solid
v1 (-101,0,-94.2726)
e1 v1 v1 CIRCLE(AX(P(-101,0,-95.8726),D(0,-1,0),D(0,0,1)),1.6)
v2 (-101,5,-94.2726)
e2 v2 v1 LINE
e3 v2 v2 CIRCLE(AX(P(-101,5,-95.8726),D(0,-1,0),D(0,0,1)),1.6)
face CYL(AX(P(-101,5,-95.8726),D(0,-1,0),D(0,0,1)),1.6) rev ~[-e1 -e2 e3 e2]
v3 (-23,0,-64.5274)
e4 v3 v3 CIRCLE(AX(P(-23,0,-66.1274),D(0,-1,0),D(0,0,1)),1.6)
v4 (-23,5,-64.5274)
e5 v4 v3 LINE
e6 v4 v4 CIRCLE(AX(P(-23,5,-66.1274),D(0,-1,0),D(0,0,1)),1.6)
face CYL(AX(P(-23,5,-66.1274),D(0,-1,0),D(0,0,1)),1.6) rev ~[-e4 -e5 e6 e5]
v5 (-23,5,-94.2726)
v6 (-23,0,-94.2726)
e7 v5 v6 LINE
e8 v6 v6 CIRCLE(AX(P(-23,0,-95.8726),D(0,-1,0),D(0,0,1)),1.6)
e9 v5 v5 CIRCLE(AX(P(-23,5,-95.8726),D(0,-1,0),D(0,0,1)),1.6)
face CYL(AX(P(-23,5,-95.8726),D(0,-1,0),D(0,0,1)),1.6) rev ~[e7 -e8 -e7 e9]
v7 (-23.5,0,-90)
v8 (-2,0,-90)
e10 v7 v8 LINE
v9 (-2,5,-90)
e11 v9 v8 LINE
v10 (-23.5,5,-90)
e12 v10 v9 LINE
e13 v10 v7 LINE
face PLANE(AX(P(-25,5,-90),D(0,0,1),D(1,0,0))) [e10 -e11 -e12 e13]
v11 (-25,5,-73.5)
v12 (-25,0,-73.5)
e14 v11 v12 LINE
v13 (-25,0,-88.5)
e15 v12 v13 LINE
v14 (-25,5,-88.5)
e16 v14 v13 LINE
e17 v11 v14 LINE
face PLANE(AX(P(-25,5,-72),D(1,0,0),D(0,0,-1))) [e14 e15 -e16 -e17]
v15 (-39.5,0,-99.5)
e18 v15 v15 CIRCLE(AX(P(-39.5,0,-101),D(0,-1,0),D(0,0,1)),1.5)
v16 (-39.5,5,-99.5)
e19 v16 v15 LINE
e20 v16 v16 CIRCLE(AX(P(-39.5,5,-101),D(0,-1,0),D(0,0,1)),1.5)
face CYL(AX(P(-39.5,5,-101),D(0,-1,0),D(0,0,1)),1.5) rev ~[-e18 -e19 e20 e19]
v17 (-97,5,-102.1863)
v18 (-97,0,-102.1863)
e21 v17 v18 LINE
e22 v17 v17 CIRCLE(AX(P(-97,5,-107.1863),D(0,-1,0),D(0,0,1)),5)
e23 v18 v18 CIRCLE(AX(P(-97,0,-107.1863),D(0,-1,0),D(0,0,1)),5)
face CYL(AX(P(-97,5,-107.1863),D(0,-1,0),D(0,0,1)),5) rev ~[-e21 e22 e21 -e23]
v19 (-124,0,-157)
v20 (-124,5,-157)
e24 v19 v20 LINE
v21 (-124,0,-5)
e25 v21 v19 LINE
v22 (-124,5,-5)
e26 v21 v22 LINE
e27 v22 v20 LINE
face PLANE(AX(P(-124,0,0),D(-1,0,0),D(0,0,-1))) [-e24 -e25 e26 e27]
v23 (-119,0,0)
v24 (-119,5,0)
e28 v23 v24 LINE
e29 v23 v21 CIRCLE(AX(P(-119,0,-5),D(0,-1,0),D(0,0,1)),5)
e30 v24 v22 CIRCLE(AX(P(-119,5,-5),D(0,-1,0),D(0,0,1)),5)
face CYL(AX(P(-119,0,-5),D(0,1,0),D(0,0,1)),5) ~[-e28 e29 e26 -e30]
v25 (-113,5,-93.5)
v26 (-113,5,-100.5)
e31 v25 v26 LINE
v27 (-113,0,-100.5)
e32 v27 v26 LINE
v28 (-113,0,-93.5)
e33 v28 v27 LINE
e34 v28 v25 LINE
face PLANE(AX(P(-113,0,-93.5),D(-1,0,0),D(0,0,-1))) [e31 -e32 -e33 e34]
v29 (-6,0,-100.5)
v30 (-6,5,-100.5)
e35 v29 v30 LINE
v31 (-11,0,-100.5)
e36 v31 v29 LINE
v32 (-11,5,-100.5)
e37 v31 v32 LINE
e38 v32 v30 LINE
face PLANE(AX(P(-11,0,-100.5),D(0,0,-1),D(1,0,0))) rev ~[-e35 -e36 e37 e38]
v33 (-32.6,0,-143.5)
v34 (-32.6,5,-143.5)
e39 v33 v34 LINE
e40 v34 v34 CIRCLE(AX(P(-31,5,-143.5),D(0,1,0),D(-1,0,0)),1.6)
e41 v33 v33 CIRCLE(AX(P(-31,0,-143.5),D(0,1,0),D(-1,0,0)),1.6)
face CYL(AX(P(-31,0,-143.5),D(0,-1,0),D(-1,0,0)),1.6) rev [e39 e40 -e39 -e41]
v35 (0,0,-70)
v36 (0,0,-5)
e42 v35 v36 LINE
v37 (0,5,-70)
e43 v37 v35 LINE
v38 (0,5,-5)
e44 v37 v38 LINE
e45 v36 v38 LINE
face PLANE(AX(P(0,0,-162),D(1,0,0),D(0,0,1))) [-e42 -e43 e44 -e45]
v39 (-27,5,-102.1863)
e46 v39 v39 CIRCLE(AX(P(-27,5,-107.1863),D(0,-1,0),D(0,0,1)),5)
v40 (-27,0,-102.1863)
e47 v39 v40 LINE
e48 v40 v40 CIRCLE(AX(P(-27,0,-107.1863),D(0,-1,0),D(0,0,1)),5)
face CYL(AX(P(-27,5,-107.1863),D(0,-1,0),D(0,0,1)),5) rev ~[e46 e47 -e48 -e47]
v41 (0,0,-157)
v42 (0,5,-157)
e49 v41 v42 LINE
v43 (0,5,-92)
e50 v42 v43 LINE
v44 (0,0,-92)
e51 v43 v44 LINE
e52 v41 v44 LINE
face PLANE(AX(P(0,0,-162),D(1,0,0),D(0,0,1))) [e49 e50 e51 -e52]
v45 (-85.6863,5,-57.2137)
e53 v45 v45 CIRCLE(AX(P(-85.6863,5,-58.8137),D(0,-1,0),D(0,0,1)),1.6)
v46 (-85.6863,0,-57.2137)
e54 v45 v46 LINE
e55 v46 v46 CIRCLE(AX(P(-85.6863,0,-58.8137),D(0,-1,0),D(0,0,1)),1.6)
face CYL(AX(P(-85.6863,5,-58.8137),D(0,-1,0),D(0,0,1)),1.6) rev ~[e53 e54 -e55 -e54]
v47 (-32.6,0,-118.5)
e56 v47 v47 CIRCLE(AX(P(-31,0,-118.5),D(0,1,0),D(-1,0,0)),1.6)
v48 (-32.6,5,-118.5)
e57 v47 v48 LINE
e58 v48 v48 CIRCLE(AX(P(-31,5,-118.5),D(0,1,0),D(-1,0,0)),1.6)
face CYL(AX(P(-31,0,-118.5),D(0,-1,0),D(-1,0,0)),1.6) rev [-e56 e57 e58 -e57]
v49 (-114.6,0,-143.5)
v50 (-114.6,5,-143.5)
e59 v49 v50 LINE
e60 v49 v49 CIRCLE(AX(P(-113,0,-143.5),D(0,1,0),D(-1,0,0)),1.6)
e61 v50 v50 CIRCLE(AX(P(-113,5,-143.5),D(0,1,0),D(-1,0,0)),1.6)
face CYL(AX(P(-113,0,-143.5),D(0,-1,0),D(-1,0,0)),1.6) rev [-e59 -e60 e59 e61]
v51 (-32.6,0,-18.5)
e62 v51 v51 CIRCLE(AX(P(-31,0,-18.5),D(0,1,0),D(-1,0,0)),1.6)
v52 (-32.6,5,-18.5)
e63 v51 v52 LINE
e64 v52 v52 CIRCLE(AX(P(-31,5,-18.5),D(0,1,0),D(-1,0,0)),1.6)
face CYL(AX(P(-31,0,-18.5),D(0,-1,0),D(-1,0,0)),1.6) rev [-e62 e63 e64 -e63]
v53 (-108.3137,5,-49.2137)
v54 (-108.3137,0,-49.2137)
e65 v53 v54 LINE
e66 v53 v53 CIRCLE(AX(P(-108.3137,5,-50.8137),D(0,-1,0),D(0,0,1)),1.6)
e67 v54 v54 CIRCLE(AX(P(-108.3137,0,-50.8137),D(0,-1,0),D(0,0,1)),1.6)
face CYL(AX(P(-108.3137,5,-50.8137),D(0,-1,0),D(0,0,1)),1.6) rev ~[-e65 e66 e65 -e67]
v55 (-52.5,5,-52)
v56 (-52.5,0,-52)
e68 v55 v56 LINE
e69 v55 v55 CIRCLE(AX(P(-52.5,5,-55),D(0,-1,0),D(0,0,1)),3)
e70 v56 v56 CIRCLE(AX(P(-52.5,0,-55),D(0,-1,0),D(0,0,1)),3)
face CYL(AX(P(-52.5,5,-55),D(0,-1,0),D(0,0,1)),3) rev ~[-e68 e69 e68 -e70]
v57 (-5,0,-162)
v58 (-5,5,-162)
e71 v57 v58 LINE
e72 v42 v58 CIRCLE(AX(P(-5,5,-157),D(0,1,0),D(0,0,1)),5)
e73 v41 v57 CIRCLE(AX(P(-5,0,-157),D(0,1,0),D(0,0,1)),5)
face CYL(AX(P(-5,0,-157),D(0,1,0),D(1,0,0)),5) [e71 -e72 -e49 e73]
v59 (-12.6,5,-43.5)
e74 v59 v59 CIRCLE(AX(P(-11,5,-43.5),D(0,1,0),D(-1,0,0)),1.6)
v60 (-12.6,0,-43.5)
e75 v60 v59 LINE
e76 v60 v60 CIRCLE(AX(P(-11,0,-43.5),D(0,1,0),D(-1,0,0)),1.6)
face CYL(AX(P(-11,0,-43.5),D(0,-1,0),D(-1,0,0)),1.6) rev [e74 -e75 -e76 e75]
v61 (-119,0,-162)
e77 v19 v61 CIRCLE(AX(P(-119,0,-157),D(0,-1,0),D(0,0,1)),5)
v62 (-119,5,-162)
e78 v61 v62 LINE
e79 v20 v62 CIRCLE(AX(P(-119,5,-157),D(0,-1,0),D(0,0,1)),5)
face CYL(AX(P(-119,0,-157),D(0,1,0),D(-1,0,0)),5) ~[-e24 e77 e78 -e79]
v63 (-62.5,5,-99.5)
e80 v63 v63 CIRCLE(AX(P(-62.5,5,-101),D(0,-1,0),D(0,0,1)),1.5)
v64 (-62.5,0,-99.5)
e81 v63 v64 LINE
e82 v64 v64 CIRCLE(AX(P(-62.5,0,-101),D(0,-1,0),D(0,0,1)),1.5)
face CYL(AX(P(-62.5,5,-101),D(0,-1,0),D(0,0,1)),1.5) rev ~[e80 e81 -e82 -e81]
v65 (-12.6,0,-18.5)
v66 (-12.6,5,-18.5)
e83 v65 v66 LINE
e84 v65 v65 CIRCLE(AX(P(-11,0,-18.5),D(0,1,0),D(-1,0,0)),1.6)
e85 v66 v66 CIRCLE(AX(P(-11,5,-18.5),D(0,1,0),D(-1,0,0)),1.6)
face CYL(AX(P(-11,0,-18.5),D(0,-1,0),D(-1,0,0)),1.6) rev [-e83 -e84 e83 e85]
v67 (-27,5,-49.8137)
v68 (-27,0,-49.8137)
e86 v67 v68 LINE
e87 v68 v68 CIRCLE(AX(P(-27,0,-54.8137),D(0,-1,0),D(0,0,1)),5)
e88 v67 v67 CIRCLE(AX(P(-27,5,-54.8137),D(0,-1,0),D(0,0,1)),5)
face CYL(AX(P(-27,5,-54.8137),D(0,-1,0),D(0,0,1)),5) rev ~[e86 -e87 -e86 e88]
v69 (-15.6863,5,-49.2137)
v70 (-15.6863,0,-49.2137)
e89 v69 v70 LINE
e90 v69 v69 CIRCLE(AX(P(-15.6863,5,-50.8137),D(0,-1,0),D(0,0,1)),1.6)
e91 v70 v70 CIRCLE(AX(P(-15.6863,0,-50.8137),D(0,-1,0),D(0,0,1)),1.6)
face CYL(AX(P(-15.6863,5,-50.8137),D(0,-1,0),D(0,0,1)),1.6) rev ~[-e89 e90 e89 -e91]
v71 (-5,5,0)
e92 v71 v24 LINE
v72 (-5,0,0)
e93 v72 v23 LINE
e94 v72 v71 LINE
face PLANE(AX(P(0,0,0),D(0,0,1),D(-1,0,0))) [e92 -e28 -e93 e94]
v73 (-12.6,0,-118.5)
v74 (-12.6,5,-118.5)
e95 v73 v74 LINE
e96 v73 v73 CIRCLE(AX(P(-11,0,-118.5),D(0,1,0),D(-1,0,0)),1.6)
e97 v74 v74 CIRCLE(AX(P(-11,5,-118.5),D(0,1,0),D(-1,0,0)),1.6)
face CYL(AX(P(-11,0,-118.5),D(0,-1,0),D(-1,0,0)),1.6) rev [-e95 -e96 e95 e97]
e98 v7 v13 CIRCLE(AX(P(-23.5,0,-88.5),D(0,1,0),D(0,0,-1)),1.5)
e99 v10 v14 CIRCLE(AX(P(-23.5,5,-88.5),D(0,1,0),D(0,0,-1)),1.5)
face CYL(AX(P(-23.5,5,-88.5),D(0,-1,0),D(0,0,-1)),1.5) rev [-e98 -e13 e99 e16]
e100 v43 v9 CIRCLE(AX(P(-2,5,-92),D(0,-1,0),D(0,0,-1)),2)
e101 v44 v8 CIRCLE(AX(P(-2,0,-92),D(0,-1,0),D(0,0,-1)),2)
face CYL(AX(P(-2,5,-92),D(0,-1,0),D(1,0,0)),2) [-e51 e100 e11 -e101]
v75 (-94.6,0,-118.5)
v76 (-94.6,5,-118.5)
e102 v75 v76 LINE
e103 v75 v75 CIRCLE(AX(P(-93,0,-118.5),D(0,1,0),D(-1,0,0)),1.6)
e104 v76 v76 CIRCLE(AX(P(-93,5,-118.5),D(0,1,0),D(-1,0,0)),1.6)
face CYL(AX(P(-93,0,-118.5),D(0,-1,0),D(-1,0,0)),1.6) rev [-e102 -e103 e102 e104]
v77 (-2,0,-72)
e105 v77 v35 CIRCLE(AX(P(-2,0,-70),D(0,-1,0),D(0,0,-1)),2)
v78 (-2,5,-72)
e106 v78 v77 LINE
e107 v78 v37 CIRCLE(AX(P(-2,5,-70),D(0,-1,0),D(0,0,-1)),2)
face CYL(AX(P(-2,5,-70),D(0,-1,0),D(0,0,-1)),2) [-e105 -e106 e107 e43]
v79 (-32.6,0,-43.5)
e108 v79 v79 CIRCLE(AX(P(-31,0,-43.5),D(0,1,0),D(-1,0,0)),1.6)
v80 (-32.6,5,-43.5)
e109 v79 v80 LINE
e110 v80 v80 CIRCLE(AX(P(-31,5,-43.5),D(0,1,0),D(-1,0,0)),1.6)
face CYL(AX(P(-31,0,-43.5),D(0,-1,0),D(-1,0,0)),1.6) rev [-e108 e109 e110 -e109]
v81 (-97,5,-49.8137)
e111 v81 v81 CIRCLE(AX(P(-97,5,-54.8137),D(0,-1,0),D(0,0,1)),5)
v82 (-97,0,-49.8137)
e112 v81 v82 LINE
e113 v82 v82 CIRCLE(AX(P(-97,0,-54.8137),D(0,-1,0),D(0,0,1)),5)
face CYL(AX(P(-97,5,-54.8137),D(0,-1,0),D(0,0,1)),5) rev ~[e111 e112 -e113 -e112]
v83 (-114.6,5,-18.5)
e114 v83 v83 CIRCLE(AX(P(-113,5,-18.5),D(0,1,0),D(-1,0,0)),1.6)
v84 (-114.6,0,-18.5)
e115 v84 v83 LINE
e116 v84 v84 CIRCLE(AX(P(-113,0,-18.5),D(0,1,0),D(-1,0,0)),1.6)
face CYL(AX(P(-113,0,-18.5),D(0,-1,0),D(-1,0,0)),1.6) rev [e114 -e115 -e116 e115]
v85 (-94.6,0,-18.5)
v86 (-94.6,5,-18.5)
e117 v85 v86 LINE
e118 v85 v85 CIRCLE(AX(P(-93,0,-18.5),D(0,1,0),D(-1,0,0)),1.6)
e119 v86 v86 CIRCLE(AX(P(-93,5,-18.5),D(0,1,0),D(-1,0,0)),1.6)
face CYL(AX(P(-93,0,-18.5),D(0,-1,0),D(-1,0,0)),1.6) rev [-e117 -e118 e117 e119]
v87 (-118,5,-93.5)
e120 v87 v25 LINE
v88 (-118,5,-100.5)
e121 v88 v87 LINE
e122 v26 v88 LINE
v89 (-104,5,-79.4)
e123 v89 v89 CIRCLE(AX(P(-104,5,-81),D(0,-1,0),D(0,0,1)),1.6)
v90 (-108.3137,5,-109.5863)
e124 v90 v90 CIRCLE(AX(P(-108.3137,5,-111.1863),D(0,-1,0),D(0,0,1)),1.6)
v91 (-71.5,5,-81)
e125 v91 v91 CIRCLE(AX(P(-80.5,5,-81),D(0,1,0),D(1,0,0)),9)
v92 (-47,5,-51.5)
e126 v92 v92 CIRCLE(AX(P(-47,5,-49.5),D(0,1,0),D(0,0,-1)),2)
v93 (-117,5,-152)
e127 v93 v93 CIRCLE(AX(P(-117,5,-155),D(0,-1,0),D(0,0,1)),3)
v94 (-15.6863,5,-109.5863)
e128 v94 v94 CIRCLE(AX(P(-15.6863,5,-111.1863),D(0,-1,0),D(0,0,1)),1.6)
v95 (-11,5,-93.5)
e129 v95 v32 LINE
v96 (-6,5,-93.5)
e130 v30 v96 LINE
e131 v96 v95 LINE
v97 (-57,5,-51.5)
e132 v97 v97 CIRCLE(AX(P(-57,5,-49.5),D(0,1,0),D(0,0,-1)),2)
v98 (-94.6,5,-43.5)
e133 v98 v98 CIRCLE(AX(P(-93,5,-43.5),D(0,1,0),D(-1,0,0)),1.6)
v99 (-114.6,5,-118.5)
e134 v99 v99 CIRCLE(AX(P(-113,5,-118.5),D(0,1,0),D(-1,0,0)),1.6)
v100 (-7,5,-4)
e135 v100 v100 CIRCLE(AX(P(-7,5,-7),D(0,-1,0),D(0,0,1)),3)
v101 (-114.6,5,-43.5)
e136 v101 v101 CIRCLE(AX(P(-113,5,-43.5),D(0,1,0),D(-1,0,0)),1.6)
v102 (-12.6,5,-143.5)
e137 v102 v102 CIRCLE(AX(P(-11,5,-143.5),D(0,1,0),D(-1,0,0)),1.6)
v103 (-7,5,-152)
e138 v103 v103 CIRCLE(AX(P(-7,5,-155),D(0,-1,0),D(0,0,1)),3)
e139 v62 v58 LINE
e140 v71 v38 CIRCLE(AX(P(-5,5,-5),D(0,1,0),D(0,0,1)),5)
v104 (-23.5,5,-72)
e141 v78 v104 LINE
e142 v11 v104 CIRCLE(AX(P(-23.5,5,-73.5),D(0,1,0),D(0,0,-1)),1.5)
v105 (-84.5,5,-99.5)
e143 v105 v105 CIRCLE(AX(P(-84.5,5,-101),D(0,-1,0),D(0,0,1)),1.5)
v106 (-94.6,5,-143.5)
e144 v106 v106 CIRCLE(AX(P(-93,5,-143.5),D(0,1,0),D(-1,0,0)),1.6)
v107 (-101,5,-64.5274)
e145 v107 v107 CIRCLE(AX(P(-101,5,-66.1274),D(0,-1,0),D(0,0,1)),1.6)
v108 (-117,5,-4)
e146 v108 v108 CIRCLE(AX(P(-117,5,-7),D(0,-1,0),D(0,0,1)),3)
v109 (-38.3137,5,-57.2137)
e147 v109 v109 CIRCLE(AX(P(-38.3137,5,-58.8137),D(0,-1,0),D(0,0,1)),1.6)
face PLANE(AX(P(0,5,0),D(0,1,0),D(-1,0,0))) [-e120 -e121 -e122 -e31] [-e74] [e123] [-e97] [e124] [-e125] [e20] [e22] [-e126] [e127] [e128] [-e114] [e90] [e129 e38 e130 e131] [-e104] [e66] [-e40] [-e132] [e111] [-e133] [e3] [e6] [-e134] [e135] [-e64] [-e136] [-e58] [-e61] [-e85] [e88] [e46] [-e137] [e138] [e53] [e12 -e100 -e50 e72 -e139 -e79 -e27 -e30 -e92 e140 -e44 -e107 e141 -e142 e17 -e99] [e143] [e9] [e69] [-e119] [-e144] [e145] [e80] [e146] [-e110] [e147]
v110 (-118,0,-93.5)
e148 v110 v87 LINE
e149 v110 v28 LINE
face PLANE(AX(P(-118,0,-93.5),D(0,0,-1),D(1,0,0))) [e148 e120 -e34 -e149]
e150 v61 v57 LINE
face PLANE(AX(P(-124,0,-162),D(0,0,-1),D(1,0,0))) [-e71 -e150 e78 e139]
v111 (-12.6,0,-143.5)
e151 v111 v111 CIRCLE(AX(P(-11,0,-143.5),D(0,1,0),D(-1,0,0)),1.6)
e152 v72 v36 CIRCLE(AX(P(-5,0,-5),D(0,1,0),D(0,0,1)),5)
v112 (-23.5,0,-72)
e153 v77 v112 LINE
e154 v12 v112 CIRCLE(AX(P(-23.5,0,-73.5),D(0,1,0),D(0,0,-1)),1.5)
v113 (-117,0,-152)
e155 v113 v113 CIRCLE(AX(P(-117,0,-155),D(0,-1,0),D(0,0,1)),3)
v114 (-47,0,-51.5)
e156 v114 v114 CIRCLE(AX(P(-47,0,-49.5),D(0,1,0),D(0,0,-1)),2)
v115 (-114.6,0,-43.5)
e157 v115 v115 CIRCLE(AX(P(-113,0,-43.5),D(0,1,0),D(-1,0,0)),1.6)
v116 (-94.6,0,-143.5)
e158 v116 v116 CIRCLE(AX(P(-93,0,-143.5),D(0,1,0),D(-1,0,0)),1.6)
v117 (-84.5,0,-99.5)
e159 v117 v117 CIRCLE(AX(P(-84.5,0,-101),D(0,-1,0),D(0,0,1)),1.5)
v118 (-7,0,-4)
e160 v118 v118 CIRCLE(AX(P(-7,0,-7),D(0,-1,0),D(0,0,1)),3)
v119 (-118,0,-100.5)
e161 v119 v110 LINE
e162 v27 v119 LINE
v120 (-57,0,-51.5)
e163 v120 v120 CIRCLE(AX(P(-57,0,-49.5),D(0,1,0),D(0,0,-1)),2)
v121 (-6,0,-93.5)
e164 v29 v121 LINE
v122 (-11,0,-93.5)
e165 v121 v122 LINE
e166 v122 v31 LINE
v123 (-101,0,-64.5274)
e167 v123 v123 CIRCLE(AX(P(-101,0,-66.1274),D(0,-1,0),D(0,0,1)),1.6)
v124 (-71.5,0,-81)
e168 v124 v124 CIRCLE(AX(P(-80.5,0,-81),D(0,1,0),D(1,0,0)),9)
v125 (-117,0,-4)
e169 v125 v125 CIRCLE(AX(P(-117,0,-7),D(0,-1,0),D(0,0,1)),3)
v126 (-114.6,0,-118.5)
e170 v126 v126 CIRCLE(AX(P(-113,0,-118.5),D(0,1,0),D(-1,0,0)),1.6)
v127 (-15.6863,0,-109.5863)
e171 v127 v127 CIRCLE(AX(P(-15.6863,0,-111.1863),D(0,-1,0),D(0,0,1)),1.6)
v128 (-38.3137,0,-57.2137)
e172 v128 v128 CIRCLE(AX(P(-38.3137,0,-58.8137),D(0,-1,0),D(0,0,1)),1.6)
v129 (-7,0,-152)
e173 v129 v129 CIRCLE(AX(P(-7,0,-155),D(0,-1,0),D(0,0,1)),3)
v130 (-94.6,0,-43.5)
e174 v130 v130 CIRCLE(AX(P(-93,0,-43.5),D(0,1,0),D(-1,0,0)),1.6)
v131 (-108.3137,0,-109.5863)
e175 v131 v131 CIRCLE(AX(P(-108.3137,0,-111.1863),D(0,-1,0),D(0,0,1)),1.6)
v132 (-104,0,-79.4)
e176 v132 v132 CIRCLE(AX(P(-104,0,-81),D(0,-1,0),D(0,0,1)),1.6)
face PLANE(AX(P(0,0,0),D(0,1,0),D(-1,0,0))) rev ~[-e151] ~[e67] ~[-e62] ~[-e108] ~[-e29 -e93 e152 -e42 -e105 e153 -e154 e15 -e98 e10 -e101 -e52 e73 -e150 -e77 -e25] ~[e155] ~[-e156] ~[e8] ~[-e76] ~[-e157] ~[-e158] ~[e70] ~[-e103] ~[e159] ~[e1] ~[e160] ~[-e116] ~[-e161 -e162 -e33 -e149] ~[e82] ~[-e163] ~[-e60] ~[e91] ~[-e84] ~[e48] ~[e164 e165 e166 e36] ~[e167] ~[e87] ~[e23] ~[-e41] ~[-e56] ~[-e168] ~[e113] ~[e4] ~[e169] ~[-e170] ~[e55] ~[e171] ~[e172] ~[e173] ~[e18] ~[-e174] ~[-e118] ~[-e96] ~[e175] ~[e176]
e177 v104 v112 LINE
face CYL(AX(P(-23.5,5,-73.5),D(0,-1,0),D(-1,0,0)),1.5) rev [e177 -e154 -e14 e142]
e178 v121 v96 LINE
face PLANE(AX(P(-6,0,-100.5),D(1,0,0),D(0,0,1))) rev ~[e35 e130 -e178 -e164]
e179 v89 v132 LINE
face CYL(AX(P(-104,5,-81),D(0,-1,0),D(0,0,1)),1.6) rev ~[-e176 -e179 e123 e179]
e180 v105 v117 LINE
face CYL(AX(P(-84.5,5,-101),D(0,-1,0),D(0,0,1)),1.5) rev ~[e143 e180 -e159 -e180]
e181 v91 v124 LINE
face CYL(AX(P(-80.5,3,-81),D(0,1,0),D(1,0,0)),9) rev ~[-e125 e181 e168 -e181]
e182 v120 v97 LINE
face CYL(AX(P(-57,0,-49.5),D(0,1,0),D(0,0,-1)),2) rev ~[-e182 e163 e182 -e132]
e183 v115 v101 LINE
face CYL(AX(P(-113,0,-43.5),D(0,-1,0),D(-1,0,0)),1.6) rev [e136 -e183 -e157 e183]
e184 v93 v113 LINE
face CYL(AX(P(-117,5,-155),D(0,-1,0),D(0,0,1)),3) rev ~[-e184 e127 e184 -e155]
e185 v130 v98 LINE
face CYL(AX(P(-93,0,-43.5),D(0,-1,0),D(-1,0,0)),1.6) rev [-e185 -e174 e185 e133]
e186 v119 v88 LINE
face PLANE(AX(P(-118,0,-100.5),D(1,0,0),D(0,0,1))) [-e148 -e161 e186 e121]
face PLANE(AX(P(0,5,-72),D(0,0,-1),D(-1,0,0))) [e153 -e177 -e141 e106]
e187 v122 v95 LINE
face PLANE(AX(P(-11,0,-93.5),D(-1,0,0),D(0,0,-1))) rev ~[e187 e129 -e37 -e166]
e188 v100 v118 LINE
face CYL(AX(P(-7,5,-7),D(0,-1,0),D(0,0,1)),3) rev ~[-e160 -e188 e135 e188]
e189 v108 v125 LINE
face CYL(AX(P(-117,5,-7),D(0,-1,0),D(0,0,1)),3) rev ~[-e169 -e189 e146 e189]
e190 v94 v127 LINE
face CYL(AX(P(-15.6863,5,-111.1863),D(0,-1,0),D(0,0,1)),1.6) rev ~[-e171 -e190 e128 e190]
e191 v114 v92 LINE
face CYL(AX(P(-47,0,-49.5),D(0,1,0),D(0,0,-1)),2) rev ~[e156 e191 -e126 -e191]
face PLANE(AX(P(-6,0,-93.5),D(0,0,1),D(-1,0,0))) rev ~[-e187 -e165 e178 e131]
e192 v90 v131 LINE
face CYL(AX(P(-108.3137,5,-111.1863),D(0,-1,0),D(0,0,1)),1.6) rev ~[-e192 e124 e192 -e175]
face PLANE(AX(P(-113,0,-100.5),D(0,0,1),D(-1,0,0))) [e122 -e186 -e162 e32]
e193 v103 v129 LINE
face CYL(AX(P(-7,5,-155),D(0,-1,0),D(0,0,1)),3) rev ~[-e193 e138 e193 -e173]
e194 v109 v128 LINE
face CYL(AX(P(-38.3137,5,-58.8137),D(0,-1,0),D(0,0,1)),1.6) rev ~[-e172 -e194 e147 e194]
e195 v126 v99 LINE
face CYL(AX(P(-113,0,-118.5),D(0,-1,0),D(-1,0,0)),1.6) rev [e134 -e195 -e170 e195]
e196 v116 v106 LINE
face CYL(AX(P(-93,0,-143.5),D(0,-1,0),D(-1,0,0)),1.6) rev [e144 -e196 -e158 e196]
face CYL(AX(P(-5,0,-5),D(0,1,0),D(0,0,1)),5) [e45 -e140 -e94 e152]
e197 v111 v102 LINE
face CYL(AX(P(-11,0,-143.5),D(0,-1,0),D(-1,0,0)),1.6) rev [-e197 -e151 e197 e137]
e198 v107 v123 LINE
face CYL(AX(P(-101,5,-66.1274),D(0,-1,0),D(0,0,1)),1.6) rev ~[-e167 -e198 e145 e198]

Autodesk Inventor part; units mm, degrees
ref_plane "YZ Plane" through (0, 0, 0) normal (1, 0, 0) x (0, 1, 0)
ref_plane "XZ Plane" through (0, 0, 0) normal (0, 1, 0) x (-1, 0, 0)
ref_plane "XY Plane" through (0, 0, 0) normal (0, 0, 1) x (1, 0, 0)
sketch "Sketch1" plane through (0, 0, 0) normal (0, 1, 0) x (-1, 0, 0)
  line L0 (0, 0) -> (124, 0)
  line L1 (124, 0) -> (124, -162)
  line L2 (124, -162) -> (0, -162)
  line L3 (0, -162) -> (0, 0)
  line L4 (117.9854, -81) -> (-11.1436, -81) construction
  line L5 (62, -11.2083) -> (62, -206.7638) construction
  circle A0 centre (113, -18.5) radius 1.6
  circle A1 centre (113, -43.5) radius 1.6
  circle A2 centre (93, -18.5) radius 1.6
  circle A3 centre (93, -43.5) radius 1.6
  circle A4 centre (113, -143.5) radius 1.6
  circle A5 centre (113, -118.5) radius 1.6
  circle A6 centre (93, -143.5) radius 1.6
  circle A7 centre (93, -118.5) radius 1.6
  circle A8 centre (11, -18.5) radius 1.6
  circle A9 centre (11, -43.5) radius 1.6
  circle A10 centre (31, -18.5) radius 1.6
  circle A11 centre (31, -43.5) radius 1.6
  circle A12 centre (11, -118.5) radius 1.6
  circle A13 centre (31, -143.5) radius 1.6
  circle A14 centre (11, -143.5) radius 1.6
  circle A15 centre (31, -118.5) radius 1.6
  line L6 (118, -93.5) -> (113, -93.5)
  line L7 (113, -93.5) -> (113, -100.5)
  line L8 (113, -100.5) -> (118, -100.5)
  line L9 (118, -100.5) -> (118, -93.5)
  line L10 (6, -93.5) -> (11, -93.5)
  line L11 (11, -93.5) -> (11, -100.5)
  line L12 (11, -100.5) -> (6, -100.5)
  line L13 (6, -100.5) -> (6, -93.5)
  circle A16 centre (7.5, -7.5) radius 2.8374
  circle A17 centre (37.5, -7.5) radius 2.5792
  circle A18 centre (7.5, -107.5) radius 2.9237
  circle A19 centre (37.5, -107.5) radius 2.6656
  dimension "d0" = 162
  dimension "d1" = 124
  dimension "d2" = 81
  dimension "d3" = 62
  dimension "d4" = 3.2
  dimension "d8" = 25
  dimension "d9" = 25
  dimension "d10" = 18.5
  dimension "d11" = 18.5
  dimension "d12" = 20
  dimension "d13" = 20
  dimension "d14" = 11
  dimension "d15" = 11
  dimension "d21" = 61.5
  dimension "d22" = 7
  dimension "d23" = 5
  dimension "d24" = 6
  dimension "d26" = 7.5
  dimension "d27" = 7.5
  dimension "d28" = 37.5
  dimension "d29" = 7.5
  dimension "d30" = 37.5
  dimension "d31" = 7.5
  dimension "d32" = 107.5
  dimension "d33" = 107.5
extrude "Extrusion1" add sketch "Sketch1" along normal blind 5 contours L0 L1 L2 L3 | A16 | A17 | A18 | A19
fillet "Fillet2" radius 5 4 edges at (0, 2.5, 0) (0, 2.5, -162) (-124, 2.5, -162) (-124, 2.5, 0)
sketch "Sketch3" plane through (0, 5, 0) normal (0, 1, 0) x (1, 0, 0)
  circle A0 centre (-93, 43.5) radius 3.1
  circle A1 centre (-93, 43.5) radius 1.8241
  line L0 (0, 5) -> (0, 157) projected
  circle A2 centre (-97, 54.8137) radius 4.621
  circle A3 centre (-97, 54.8137) radius 16
  line L1 (-112.1751, 81) -> (15.1489, 81) construction
  line L2 (-119, 0) -> (-5, 0) projected
  circle A4 centre (-93, 118.5) radius 3.1
  circle A5 centre (-93, 118.5) radius 1.8241
  circle A6 centre (-97, 107.1863) radius 4.621
  circle A7 centre (-97, 107.1863) radius 16
  circle A8 centre (-85.6863, 58.8137) radius 1.8241
  circle A9 centre (-101, 66.1274) radius 1.8241
  circle A10 centre (-108.3137, 50.8137) radius 1.8241
  circle A11 centre (-97, 54.8137) radius 4.621
  circle A12 centre (-101, 95.8726) radius 1.8241
  circle A13 centre (-108.3137, 111.1863) radius 1.8241
  line L3 (-124, 157) -> (-124, 5) projected
  line L4 (-62, -8.3299) -> (-62, 205.5694) construction
  circle A14 centre (-31, 43.5) radius 3.1
  circle A15 centre (-31, 43.5) radius 1.8241
  circle A16 centre (-27, 54.8137) radius 4.621
  circle A17 centre (-27, 54.8137) radius 16
  circle A18 centre (-31, 118.5) radius 3.1
  circle A19 centre (-31, 118.5) radius 1.8241
  circle A20 centre (-27, 107.1863) radius 4.621
  circle A21 centre (-27, 107.1863) radius 16
  circle A22 centre (-38.3137, 58.8137) radius 1.8241
  circle A23 centre (-23, 66.1274) radius 1.8241
  circle A24 centre (-15.6863, 50.8137) radius 1.8241
  circle A25 centre (-27, 54.8137) radius 4.621
  circle A26 centre (-15.6863, 111.1863) radius 1.8241
  circle A27 centre (-23, 95.8726) radius 1.8241
  circle A28 centre (-93, 43.5) radius 1.6 projected
  point P0 (0, 0)
  dimension "d57" = 12
  dimension "d59" = 32
  dimension "d60" = 81
  dimension "d63" = 360
  dimension "d66" = 62
  dimension "d89" = 124
  dimension "d193" = 0
  dimension "d194" = 0
  dimension "d195" = 70
hole "Hole1" at (-108.3137, 5, -50.8137) at (-101, 5, -66.1274) at (-85.6863, 5, -58.8137) at (-108.3137, 5, -111.1863) at (-101, 5, -95.8726) at (-23, 5, -95.8726) at (-15.6863, 5, -111.1863) at (-38.3137, 5, -58.8137) at (-23, 5, -66.1274) at (-15.6863, 5, -50.8137) direction (0, -1, 0) diameter 3.2 end through all
sketch "Sketch4" plane through (0, 5, 0) normal (0, 1, 0) x (1, 0, 0)
  circle A0 centre (-97, 54.8137) radius 4
  circle A1 centre (-97, 107.1863) radius 4
  circle A2 centre (-27, 107.1863) radius 4 projected
  circle A3 centre (-27, 54.8137) radius 4 projected
  point P0 (0, 0)
  dimension "d196" = 70
hole "Hole2" at (-97, 5, -54.8137) at (-97, 5, -107.1863) at (-27, 5, -107.1863) at (-27, 5, -54.8137) direction (0, -1, 0) diameter 10 end through all
sketch "Sketch5" plane through (0, 5, 0) normal (0, 1, 0) x (1, 0, 0)
  circle A0 centre (-80.5, 81) radius 9
  line L0 (0, 5) -> (0, 157) projected
  line L1 (-119, 0) -> (-5, 0) projected
  circle A1 centre (-80.5, 81) radius 9 construction
  point P0 (0, 0)
  dimension "d81" = 18
  dimension "d82" = 80.5
  dimension "d83" = 81
  dimension "d90" = 18
extrude "Extrusion3" cut sketch "Sketch5" against normal blind 2
sketch "Sketch6" plane through (-80.5, 3, -81) normal (0, 1, 0) x (1, 0, 0)
  circle A0 centre (0, 0) radius 9
  point P0 (80.5, -81)
  dimension "d86" = 18
extrude "Extrusion4" cut sketch "Sketch6" against normal blind 3
sketch "Sketch7" plane through (0, 5, 0) normal (0, 1, 0) x (1, 0, 0)
  line L0 (-5, 162) -> (-119, 162) projected
  circle A0 centre (-84.5, 101) radius 1.5
  line L1 (-124, 157) -> (-124, 5) projected
  circle A1 centre (-62.5, 101) radius 1.5
  circle A2 centre (-39.5, 101) radius 1.5
  point P0 (0, 0)
  point P1 (-92.5, 103)
  point P2 (-47.5, 103)
  point P3 (-70.5, 103)
  dimension "d185" = 3
  dimension "d186" = 61
  dimension "d187" = 39.5
  dimension "d188" = 3
  dimension "d189" = 3
  dimension "d190" = 61.5
  dimension "d191" = 84.5
hole "Hole3" at (-84.5, 5, -101) at (-62.5, 5, -101) at (-39.5, 5, -101) direction (0, -1, 0) diameter 3 end through all
sketch "Sketch8" plane through (0, 5, 0) normal (0, 1, 0) x (1, 0, 0)
  line L0 (-147.8175, 81) -> (38.0677, 81) construction
  line L1 (-62, -18.8902) -> (-62, 202.7642) construction
  line L2 (-5, 162) -> (-119, 162) projected
  line L3 (-119, 0) -> (-5, 0) projected
  line L4 (0, 5) -> (0, 157) projected
  line L5 (-124, 157) -> (-124, 5) projected
  circle A0 centre (-7, 7) radius 3
  circle A1 centre (-7, 155) radius 3
  circle A2 centre (-117, 7) radius 3
  circle A3 centre (-117, 155) radius 3
  point P0 (0, 0)
  dimension "d104" = 162
  dimension "d105" = 124
  dimension "d106" = 62
  dimension "d107" = 81
  dimension "d108" = 6
  dimension "d109" = 7
  dimension "d110" = 7
hole "Hole4" at (-7, 5, -7) at (-117, 5, -7) at (-117, 5, -155) at (-7, 5, -155) direction (0, -1, 0) diameter 6 end through all
sketch "Sketch10" plane through (0, 5, 0) normal (0, 1, 0) x (1, 0, 0)
  line L0 (0, 5) -> (0, 157) projected
  line L1 (0, 72) -> (-25, 72)
  line L2 (-25, 72) -> (-25, 90)
  line L3 (-25, 90) -> (0, 90)
  line L4 (0, 90) -> (0, 72)
  line L5 (-119, 0) -> (-5, 0) projected
  point P0 (0, 0)
  point P1 (0, 90)
  dimension "d128" = 18
  dimension "d129" = 72
  dimension "d130" = 25
extrude "Extrusion5" cut sketch "Sketch10" against normal blind 10
fillet "Fillet4" radius 2 2 edges at (0, 2.5, -90) (0, 2.5, -72)
sketch "Sketch12" plane through (0, 0, 0) normal (0, -1, 0) x (1, 0, 0)
  circle A0 centre (-47, -49.5) radius 2
  circle A1 centre (-57, -49.5) radius 2
  line L0 (-119, 0) -> (-5, 0) projected
  line L1 (-40, -51) -> (-40, -46) projected
  circle A2 centre (-47, -49.5) radius 1.2295 projected
  circle A3 centre (-47, -49.5) radius 1.2295 projected
  circle A4 centre (-47, -49.5) radius 1.2295 projected
  circle A5 centre (-57, -49.5) radius 1.2295 projected
  point P0 (0, 0)
  dimension "d142" = 4
  dimension "d144" = 4
hole "Hole7" at (-47, 0, -49.5) at (-57, 0, -49.5) direction (0, 1, 0) diameter 4 depth 20 tip angle 118
sketch "Sketch13" plane through (0, 5, 0) normal (0, 1, 0) x (1, 0, 0)
  circle A0 centre (-104, 81) radius 1.5
  line L0 (-124, 157) -> (-124, 5) projected
  line L1 (-119, 0) -> (-5, 0) projected
  point P0 (0, 0)
  dimension "d154" = 3
  dimension "d155" = 20
  dimension "d156" = 81
hole "Hole8" at (-104, 5, -81) direction (0, -1, 0) diameter 3.2 depth 20 tip angle 118
sketch "Sketch14" plane through (0, 5, 0) normal (0, 1, 0) x (1, 0, 0)
  circle A0 centre (-52.5, 55) radius 3
  line L0 (-119, 0) -> (-5, 0) projected
  line L1 (0, 5) -> (0, 70) projected
  point P0 (0, 0)
  dimension "d164" = 55
  dimension "d165" = 52.5
  dimension "d166" = 6
hole "Hole9" at (-52.5, 5, -55) direction (0, -1, 0) diameter 6 depth 20 tip angle 118
fillet "Fillet6" radius 1.5 2 edges at (-25, 2.5, -72) (-25, 2.5, -90)
equation "\"d2\" = 0.5 * d0"
equation "\"d3\" = 0.5 * d1"
equation "\"d66\" = 0.5 * d89"
equation "\"d106\" = 0.5 * d105"
equation "\"d107\" = 0.5 * d104"
equation "\"d147\" = d144"
equation "\"d167\" = d166"
properties part number "x-Axis_plate_bottom_b" material "PET Plastic"
